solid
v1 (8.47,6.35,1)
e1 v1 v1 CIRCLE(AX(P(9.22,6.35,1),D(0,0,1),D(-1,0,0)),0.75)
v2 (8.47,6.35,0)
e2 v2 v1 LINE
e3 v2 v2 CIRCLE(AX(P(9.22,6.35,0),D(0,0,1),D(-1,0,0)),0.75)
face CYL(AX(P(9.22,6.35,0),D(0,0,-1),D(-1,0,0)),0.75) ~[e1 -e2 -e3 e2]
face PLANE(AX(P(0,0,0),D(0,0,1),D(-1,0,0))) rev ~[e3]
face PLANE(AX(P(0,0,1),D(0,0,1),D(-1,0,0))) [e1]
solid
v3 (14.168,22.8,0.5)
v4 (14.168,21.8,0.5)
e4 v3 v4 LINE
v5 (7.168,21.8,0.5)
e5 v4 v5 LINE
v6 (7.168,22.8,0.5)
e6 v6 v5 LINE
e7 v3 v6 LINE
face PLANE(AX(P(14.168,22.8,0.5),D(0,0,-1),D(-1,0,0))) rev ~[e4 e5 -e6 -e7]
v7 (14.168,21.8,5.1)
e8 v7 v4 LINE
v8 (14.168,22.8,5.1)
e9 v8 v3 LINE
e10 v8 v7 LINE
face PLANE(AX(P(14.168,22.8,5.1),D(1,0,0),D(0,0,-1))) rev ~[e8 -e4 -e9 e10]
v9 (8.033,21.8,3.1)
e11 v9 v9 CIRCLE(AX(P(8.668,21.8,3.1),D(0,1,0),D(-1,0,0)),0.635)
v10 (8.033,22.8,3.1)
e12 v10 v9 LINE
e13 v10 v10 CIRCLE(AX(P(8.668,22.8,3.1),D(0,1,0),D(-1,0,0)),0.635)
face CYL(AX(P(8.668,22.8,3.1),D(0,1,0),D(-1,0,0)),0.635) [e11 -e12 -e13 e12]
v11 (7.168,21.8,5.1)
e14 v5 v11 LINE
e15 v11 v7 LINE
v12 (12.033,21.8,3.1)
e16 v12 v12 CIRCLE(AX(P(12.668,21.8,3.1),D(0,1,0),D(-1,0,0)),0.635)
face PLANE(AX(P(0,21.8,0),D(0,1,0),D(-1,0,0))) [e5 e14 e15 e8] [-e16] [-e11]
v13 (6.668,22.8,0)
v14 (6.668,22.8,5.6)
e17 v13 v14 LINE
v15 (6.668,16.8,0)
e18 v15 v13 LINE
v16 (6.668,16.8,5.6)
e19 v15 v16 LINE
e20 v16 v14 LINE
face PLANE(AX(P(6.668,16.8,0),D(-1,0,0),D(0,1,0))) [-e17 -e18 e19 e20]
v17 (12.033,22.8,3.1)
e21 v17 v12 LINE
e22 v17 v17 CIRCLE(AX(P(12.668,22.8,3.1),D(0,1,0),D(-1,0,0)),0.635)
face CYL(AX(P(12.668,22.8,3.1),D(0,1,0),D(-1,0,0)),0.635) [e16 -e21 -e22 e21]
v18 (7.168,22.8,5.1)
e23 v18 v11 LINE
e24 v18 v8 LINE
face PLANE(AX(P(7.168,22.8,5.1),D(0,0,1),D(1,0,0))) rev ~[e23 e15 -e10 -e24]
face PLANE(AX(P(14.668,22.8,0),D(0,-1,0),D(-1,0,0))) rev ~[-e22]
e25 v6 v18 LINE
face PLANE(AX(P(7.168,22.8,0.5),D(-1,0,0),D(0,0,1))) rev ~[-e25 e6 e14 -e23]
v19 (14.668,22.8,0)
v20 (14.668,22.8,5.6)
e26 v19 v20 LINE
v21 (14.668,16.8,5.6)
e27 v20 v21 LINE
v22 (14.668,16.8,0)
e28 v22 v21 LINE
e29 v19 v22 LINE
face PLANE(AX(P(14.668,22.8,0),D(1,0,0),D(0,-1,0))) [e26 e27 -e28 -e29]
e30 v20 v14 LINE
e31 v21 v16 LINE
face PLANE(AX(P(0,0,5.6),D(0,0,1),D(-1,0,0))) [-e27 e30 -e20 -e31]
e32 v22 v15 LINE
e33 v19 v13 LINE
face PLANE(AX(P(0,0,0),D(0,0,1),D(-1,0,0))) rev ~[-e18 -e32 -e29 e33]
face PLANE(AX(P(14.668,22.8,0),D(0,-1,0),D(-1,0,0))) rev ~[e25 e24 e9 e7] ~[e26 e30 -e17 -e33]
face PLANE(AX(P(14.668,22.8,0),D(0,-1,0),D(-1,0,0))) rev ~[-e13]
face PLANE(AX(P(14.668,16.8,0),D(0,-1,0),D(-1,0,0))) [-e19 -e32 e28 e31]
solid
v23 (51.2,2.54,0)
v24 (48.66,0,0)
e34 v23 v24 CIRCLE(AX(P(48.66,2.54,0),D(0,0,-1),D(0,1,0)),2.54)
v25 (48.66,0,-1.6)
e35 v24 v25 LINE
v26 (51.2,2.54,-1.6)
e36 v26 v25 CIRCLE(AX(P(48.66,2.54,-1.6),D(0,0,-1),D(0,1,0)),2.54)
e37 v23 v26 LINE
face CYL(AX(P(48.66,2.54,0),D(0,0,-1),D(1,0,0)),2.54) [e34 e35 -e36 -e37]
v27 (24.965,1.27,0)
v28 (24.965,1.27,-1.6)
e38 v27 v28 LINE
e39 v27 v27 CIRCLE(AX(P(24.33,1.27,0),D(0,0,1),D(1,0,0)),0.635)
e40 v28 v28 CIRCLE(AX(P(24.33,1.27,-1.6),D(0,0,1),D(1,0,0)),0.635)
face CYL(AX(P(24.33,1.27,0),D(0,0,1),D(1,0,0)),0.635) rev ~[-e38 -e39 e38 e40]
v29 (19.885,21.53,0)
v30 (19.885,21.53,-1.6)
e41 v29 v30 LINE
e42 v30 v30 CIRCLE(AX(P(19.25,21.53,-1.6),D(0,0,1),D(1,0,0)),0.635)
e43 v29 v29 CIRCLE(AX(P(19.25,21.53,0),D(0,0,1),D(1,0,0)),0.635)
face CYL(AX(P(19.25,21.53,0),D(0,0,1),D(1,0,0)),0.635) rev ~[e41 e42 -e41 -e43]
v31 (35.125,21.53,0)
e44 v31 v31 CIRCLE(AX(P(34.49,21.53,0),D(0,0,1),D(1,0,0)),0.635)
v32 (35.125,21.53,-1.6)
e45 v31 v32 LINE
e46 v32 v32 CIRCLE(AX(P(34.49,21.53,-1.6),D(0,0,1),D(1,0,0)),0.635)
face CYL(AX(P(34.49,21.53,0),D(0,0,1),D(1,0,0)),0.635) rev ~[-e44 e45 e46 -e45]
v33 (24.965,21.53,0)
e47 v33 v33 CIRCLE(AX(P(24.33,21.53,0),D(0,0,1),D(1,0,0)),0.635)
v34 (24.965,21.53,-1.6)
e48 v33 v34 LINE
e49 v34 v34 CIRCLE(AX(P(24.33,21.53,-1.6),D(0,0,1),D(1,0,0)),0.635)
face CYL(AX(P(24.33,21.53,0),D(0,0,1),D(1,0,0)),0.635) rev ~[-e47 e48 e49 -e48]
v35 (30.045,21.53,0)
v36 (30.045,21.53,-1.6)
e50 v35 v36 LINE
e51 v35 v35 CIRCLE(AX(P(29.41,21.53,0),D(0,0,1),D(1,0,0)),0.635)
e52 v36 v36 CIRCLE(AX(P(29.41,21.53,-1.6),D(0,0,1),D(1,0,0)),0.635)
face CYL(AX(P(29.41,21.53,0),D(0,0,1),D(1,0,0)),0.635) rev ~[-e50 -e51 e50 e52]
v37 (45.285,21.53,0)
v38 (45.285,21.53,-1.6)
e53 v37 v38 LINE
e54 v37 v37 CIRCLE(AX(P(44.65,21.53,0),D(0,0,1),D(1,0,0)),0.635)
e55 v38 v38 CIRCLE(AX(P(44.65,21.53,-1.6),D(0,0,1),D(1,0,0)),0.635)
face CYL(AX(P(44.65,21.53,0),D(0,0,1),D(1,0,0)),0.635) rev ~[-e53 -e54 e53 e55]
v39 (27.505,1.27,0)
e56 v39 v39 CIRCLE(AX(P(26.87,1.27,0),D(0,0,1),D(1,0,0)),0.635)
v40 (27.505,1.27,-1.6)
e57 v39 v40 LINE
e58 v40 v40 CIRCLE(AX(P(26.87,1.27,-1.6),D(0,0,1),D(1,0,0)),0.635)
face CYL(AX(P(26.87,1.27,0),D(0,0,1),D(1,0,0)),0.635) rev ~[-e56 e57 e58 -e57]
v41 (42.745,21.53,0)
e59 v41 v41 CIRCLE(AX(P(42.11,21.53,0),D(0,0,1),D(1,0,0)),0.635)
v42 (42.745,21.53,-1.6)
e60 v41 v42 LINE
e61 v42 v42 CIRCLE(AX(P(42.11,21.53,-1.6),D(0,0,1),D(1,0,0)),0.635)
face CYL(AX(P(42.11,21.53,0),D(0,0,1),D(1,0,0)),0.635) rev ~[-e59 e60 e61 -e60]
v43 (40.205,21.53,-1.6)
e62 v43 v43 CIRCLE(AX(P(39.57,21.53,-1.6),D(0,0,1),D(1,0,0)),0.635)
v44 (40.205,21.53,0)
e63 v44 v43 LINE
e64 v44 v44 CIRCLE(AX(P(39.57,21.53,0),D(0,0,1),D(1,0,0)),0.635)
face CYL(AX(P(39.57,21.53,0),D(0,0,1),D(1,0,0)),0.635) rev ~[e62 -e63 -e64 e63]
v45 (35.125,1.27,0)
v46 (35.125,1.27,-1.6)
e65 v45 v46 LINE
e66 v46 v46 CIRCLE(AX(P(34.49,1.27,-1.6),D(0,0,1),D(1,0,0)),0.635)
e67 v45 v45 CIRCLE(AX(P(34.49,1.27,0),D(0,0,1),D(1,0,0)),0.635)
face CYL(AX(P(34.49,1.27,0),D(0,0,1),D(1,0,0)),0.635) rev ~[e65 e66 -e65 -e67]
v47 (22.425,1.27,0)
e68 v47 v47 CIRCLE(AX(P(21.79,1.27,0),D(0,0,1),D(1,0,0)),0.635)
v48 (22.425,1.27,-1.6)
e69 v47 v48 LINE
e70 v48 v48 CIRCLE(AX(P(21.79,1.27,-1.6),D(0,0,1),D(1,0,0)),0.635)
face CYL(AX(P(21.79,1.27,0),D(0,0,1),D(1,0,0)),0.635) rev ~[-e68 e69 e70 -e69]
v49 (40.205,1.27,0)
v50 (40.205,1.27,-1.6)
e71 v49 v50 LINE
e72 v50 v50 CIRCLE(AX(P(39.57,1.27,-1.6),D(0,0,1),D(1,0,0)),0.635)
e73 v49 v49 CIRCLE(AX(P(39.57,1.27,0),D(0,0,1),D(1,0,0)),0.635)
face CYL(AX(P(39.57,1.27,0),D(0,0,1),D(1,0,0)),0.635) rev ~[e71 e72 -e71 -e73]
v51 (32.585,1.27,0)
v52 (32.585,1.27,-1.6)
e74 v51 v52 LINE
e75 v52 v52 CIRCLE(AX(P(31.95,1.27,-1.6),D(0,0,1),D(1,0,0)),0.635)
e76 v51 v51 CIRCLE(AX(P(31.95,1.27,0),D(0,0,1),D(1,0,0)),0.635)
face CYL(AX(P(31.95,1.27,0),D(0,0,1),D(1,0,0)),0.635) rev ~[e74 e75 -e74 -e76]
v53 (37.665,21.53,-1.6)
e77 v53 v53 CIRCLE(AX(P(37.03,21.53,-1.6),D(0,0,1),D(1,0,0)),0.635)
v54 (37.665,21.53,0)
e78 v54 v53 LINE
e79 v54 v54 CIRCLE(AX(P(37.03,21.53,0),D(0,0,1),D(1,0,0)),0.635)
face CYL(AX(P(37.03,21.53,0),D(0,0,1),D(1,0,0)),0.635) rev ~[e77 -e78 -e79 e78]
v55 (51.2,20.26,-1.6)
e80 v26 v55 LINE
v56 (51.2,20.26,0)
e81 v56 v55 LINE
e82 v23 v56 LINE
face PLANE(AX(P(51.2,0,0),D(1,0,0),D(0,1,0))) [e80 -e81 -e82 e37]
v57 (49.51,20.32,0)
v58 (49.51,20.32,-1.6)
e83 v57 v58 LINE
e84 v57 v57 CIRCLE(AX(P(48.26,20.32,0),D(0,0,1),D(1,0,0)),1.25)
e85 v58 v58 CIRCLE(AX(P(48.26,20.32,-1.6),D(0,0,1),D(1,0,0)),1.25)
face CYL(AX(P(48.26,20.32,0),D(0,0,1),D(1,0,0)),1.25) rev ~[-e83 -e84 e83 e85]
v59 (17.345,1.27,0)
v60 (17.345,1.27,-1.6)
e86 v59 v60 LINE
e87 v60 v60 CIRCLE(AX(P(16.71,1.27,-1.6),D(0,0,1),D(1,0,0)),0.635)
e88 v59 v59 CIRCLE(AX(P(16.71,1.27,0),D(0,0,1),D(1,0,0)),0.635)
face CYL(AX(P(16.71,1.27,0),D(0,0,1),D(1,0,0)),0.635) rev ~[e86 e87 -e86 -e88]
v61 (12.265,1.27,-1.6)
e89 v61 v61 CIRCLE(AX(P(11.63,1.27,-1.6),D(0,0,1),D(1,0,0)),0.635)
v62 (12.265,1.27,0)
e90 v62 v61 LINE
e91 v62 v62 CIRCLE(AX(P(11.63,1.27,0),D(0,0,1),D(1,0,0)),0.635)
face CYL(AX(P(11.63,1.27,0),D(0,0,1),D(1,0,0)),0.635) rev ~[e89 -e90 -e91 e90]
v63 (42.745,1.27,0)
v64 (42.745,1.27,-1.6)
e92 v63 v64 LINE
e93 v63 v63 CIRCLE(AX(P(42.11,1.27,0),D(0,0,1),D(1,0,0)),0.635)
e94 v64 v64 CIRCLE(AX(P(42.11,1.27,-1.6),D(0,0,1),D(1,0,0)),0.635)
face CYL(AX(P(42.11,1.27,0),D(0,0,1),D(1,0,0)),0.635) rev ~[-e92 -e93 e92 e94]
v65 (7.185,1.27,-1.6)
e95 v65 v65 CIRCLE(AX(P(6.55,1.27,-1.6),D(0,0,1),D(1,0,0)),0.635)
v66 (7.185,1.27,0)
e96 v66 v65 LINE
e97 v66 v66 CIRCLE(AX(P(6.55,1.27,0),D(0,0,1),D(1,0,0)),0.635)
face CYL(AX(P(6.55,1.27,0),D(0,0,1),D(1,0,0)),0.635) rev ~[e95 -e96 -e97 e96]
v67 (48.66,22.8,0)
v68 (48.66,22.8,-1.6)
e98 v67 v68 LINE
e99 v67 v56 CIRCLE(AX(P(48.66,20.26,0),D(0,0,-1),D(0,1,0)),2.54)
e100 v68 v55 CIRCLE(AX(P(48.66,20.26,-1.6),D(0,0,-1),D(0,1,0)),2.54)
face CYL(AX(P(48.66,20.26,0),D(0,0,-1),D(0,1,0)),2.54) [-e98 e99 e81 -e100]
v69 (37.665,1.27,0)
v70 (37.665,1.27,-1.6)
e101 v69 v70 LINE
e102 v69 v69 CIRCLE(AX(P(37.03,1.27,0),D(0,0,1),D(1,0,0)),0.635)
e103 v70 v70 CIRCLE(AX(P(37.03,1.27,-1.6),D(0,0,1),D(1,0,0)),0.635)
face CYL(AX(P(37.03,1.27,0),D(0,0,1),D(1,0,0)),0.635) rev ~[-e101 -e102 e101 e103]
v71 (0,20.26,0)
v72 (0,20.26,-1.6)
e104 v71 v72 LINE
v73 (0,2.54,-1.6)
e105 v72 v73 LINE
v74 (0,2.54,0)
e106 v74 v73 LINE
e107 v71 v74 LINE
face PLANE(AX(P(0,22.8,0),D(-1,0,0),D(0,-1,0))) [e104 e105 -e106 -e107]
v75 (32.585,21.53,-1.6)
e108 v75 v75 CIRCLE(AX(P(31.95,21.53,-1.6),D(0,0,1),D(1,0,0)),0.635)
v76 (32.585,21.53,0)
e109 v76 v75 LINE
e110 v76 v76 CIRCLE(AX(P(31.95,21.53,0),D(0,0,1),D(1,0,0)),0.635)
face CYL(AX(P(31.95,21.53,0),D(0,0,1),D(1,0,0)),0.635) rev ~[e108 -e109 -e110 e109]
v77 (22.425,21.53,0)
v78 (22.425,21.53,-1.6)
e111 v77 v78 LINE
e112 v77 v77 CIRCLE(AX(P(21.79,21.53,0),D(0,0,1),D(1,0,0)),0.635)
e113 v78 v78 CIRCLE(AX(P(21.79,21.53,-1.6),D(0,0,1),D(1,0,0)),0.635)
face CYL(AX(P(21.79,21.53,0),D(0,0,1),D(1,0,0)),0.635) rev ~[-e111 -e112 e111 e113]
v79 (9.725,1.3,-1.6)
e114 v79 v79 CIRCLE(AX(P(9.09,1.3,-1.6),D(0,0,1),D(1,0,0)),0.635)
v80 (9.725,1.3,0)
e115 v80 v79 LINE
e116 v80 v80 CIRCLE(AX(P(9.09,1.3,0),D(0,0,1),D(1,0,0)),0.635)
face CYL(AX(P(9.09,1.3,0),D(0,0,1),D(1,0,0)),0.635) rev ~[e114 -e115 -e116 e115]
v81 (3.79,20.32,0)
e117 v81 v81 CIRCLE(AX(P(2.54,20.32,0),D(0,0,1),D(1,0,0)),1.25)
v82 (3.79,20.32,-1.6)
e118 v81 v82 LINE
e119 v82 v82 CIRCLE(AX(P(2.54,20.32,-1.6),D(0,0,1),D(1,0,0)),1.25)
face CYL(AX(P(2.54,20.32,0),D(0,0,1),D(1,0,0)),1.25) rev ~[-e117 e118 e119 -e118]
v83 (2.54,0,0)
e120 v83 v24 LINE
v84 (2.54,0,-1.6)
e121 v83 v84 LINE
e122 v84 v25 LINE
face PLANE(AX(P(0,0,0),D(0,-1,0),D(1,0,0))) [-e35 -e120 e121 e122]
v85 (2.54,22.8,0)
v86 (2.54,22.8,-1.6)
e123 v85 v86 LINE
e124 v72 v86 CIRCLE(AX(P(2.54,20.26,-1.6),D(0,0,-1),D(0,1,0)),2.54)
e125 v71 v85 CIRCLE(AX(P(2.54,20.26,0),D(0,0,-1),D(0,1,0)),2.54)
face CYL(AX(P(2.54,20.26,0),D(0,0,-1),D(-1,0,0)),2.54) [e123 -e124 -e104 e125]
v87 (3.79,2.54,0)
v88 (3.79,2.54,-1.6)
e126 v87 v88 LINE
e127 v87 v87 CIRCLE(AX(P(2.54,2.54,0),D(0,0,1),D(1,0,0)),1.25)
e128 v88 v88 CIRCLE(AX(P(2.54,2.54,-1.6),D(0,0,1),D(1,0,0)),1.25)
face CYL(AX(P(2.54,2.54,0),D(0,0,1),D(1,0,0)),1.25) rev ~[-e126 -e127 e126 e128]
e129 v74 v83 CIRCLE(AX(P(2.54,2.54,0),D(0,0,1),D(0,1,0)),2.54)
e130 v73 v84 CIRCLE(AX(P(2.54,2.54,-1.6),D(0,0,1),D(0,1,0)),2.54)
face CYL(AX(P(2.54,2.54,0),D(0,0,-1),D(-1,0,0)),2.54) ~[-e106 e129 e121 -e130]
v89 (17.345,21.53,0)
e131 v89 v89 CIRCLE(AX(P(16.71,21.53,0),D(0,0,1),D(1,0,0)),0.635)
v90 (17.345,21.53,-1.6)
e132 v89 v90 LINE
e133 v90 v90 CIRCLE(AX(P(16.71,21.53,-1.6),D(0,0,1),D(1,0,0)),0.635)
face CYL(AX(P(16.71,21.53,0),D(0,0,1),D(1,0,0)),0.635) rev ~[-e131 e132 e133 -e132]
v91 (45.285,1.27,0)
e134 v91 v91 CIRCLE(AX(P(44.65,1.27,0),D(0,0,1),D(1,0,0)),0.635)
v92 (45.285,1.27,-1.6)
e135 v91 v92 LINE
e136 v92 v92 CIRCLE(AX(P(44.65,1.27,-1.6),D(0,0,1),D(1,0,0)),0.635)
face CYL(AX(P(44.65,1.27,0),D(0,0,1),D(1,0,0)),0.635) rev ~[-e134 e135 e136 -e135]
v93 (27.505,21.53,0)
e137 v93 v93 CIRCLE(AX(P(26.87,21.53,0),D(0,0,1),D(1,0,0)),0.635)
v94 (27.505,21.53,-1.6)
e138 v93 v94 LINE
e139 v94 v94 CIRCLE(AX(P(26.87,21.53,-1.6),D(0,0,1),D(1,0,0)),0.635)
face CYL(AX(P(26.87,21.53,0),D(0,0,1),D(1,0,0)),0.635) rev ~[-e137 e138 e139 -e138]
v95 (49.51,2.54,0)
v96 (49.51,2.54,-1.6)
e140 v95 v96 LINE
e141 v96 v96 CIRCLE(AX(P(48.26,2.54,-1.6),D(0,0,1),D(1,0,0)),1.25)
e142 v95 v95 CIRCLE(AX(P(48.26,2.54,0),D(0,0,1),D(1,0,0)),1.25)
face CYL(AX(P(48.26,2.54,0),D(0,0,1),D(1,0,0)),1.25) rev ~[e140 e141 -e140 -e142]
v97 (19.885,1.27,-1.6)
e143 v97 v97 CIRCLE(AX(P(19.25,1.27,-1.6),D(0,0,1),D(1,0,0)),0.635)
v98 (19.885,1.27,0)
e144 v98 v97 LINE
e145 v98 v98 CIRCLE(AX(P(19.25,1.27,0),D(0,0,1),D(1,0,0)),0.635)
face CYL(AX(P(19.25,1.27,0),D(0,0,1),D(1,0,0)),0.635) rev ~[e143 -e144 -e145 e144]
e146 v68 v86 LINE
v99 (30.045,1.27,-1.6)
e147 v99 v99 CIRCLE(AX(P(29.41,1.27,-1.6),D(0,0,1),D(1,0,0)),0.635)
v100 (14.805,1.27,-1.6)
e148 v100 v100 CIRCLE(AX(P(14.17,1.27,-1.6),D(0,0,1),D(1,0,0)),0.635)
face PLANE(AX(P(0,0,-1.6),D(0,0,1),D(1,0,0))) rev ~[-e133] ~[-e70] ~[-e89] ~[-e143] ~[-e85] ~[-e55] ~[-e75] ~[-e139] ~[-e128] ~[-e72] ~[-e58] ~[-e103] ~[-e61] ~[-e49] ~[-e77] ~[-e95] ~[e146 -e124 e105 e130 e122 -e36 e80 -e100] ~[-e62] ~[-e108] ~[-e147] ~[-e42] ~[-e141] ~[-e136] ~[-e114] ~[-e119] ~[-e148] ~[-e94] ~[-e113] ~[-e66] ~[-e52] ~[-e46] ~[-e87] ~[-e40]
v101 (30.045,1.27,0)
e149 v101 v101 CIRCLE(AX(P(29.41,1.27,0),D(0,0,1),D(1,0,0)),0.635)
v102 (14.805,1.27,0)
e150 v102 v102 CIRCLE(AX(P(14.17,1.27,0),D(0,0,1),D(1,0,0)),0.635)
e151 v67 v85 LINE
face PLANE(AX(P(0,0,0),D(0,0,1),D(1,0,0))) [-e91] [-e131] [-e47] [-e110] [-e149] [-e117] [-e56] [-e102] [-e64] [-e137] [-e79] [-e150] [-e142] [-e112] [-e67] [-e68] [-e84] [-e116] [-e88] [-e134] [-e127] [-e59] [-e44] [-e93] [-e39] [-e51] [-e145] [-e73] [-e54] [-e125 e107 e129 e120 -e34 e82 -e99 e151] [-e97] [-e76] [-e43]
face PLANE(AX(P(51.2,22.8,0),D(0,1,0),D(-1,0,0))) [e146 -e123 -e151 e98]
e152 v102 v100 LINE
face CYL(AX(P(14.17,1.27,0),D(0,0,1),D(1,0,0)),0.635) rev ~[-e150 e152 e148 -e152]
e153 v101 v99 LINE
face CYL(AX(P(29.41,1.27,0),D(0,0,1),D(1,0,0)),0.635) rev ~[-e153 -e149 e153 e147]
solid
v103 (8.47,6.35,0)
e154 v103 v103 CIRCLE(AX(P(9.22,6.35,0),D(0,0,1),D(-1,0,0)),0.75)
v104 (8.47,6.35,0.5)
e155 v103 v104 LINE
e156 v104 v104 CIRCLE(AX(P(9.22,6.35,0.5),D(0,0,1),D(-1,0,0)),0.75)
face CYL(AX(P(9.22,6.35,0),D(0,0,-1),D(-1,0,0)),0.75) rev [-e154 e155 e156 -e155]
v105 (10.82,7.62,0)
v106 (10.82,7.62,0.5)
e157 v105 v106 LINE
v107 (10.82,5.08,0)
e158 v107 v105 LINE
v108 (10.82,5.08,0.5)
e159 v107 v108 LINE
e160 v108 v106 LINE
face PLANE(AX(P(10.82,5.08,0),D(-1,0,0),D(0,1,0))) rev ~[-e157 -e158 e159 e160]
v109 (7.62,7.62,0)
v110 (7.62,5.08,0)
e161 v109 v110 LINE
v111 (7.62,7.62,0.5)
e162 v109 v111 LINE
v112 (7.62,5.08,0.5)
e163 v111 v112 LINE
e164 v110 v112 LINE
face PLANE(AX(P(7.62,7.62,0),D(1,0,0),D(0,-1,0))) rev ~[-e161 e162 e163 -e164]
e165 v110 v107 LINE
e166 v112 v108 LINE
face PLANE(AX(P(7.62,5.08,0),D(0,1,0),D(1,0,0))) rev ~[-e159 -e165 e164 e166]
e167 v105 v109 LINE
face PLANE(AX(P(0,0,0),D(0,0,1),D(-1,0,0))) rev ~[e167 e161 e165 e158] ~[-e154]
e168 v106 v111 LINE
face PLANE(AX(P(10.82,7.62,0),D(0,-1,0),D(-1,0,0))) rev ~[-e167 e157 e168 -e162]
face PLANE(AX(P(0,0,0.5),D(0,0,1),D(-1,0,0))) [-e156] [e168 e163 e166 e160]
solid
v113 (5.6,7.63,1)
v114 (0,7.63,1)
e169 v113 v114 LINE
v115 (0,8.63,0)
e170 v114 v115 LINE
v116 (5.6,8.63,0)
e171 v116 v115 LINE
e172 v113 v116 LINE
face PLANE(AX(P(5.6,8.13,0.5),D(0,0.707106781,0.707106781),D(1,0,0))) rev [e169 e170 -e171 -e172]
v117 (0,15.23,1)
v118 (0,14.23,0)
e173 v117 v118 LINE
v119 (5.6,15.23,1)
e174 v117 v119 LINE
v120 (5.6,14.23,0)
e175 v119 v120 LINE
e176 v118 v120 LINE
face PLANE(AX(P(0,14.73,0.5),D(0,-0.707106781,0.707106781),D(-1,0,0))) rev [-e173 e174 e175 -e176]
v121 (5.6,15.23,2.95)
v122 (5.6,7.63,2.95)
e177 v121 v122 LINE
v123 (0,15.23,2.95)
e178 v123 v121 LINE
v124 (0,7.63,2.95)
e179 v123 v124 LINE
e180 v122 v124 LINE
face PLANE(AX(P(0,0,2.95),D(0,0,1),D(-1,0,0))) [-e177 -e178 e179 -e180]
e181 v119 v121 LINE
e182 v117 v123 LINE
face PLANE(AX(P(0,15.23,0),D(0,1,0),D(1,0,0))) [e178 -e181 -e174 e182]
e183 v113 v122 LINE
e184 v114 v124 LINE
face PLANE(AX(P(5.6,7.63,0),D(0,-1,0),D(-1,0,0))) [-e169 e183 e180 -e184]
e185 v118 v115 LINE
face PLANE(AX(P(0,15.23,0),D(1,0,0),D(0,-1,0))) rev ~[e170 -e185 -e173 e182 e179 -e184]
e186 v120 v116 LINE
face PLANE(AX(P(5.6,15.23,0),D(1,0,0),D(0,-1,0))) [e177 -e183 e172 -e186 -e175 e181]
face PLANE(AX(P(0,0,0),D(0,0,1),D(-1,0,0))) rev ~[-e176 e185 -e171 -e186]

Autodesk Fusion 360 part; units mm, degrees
sketch "pcb" plane through (0, 0, 0) normal (0, 0, 1) x (1, 0, 0)
  line L0 (0, 0) -> (51.2, 0)
  line L1 (51.2, 0) -> (51.2, 22.8)
  line L2 (51.2, 22.8) -> (0, 22.8)
  line L3 (0, 22.8) -> (0, 0)
  circle A0 centre (2.54, 2.54) radius 1.25
  circle A1 centre (2.54, 20.32) radius 1.25
  circle A2 centre (48.26, 20.32) radius 1.25
  circle A3 centre (48.26, 2.54) radius 1.25
  line L4 (0, 11.4) -> (51.2, 11.4) construction
  line L5 (25.6, 22.8) -> (25.6, 0) construction
  line L6 (0, 1.27) -> (51.2, 1.27) construction
  circle A4 centre (24.33, 1.27) radius 0.635
  circle A5 centre (21.79, 1.27) radius 0.635
  circle A6 centre (19.25, 1.27) radius 0.635
  circle A7 centre (16.71, 1.27) radius 0.635
  circle A8 centre (14.17, 1.27) radius 0.635
  circle A9 centre (11.63, 1.27) radius 0.635
  circle A10 centre (9.09, 1.3) radius 0.635
  circle A11 centre (6.55, 1.27) radius 0.635
  circle A12 centre (26.87, 1.27) radius 0.635
  circle A13 centre (29.41, 1.27) radius 0.635
  circle A14 centre (31.95, 1.27) radius 0.635
  circle A15 centre (34.49, 1.27) radius 0.635
  circle A16 centre (39.57, 1.27) radius 0.635
  circle A17 centre (37.03, 1.27) radius 0.635
  circle A18 centre (42.11, 1.27) radius 0.635
  circle A19 centre (44.65, 1.27) radius 0.635
  circle A20 centre (44.65, 21.53) radius 0.635
  circle A21 centre (39.57, 21.53) radius 0.635
  circle A22 centre (34.49, 21.53) radius 0.635
  circle A23 centre (31.95, 21.53) radius 0.635
  circle A24 centre (29.41, 21.53) radius 0.635
  circle A25 centre (26.87, 21.53) radius 0.635
  circle A26 centre (42.11, 21.53) radius 0.635
  circle A27 centre (37.03, 21.53) radius 0.635
  circle A28 centre (24.33, 21.53) radius 0.635
  circle A29 centre (21.79, 21.53) radius 0.635
  circle A30 centre (19.25, 21.53) radius 0.635
  circle A31 centre (16.71, 21.53) radius 0.635
  dimension "d1" = 51.2
  dimension "d2" = 22.8
  dimension "d3" = 2.5
  dimension "d4" = 2.54
  dimension "d5" = 2.54
  dimension "d6" = 2.5
  dimension "d7" = 2.54
  dimension "d8" = 20.32
  dimension "d9" = 2.5
  dimension "d10" = 48.26
  dimension "d11" = 20.32
  dimension "d12" = 2.5
  dimension "d13" = 2.54
  dimension "d14" = 48.26
  dimension "d40" = 1.27
  dimension "d41" = 1.27
  dimension "d42" = 1.27
  dimension "d43" = 1.27
  dimension "d44" = 1.27
  dimension "d45" = 1.27
  dimension "d46" = 1.27
  dimension "d47" = 2.54
  dimension "d48" = 2.54
  dimension "d49" = 2.54
  dimension "d50" = 2.54
  dimension "d51" = 1.27
  dimension "d52" = 1.27
  dimension "d53" = 1.27
  dimension "d55" = 2.54
  dimension "d56" = 2.54
  dimension "d57" = 2.54
  dimension "d58" = 1.27
  dimension "d59" = 1.27
  dimension "d60" = 1.27
  dimension "d61" = 1.27
  dimension "d62" = 2.54
  dimension "d63" = 2.54
  dimension "d64" = 2.54
  dimension "d65" = 1.27
  dimension "d68" = 1.27
  dimension "d74" = 1.27
  dimension "d75" = 2.54
  dimension "d76" = 2.54
  dimension "d77" = 1.27
  dimension "d78" = 1.27
  dimension "d79" = 2.54
  dimension "d80" = 2.54
extrude "Extrude1" add sketch "pcb" against normal blind 1.6 makes body 1
fillet "Fillet1" radius 2.54 4 edges at (0, 0, -0.8) (0, 22.8, -0.8) (51.2, 0, -0.8) (51.2, 22.8, -0.8) on bodies 1
sketch "microusb" plane through (0, 0, 0) normal (0, 0, 1) x (-1, 0, 0)
  arc A0 (-51.2, -20.26) -> (-48.66, -22.8) centre (-48.66, -20.26) ccw
  line L0 (-48.66, -22.8) -> (-2.54, -22.8)
  arc A1 (-2.54, -22.8) -> (0, -20.26) centre (-2.54, -20.26) ccw
  line L1 (0, -20.26) -> (0, -2.54)
  arc A2 (0, -2.54) -> (-2.54, 0) centre (-2.54, -2.54) ccw
  line L2 (-2.54, 0) -> (-48.66, 0)
  arc A3 (-48.66, 0) -> (-51.2, -2.54) centre (-48.66, -2.54) ccw
  line L3 (-51.2, -2.54) -> (-51.2, -20.26)
  circle A4 centre (-2.54, -2.54) radius 1.25
  circle A5 centre (-48.26, -20.32) radius 1.25
  circle A6 centre (-48.26, -2.54) radius 1.25
  circle A7 centre (-2.54, -20.32) radius 1.25
  line L4 (0, -15.23) -> (-5.6, -15.23)
  line L5 (-5.6, -15.23) -> (-5.6, -7.63)
  line L6 (-5.6, -7.63) -> (0, -7.63)
  line L7 (0, -7.63) -> (0, -15.23)
  line L8 (-5.6, -11.43) -> (0, -11.43) construction
  circle A8 centre (-11.63, -1.27) radius 0.635
  circle A9 centre (-9.09, -1.3) radius 0.635
  circle A10 centre (-6.55, -1.27) radius 0.635
  circle A11 centre (-14.17, -1.27) radius 0.635
  circle A12 centre (-24.33, -1.27) radius 0.635
  circle A13 centre (-21.79, -1.27) radius 0.635
  circle A14 centre (-19.25, -1.27) radius 0.635
  circle A15 centre (-16.71, -1.27) radius 0.635
  circle A16 centre (-16.71, -21.53) radius 0.635
  circle A17 centre (-31.95, -21.53) radius 0.635
  circle A18 centre (-19.25, -21.53) radius 0.635
  circle A19 centre (-21.79, -21.53) radius 0.635
  circle A20 centre (-42.11, -21.53) radius 0.635
  circle A21 centre (-29.41, -21.53) radius 0.635
  circle A22 centre (-26.87, -21.53) radius 0.635
  circle A23 centre (-37.03, -21.53) radius 0.635
  circle A24 centre (-24.33, -21.53) radius 0.635
  circle A25 centre (-31.95, -1.27) radius 0.635
  circle A26 centre (-34.49, -1.27) radius 0.635
  circle A27 centre (-39.57, -1.27) radius 0.635
  circle A28 centre (-37.03, -1.27) radius 0.635
  circle A29 centre (-42.11, -1.27) radius 0.635
  circle A30 centre (-44.65, -1.27) radius 0.635
  circle A31 centre (-44.65, -21.53) radius 0.635
  circle A32 centre (-39.57, -21.53) radius 0.635
  circle A33 centre (-34.49, -21.53) radius 0.635
  circle A34 centre (-29.41, -1.27) radius 0.635
  circle A35 centre (-26.87, -1.27) radius 0.635
  dimension "d18" = 7.6
  dimension "d19" = 5.6
  dimension "d20" = 11.43
extrude "Extrude2" add sketch "microusb" along normal blind 2.95 separate body contours L1 L4 L5 L6 L7 makes body 2
chamfer "Chamfer1" distance 1 angle 45 2 edges at (2.8, 15.23, 0) (2.8, 7.63, 0) on bodies 2
sketch "jst" plane through (0, 0, 0) normal (0, 0, 1) x (-1, 0, 0)
  arc A0 (-51.2, -20.26) -> (-48.66, -22.8) centre (-48.66, -20.26) ccw
  line L0 (-48.66, -22.8) -> (-2.54, -22.8)
  arc A1 (-2.54, -22.8) -> (0, -20.26) centre (-2.54, -20.26) ccw
  line L1 (0, -20.26) -> (0, -2.54)
  arc A2 (0, -2.54) -> (-2.54, 0) centre (-2.54, -2.54) ccw
  line L2 (-2.54, 0) -> (-48.66, 0)
  arc A3 (-48.66, 0) -> (-51.2, -2.54) centre (-48.66, -2.54) ccw
  line L3 (-51.2, -2.54) -> (-51.2, -20.26)
  circle A4 centre (-2.54, -2.54) radius 1.25
  circle A5 centre (-48.26, -20.32) radius 1.25
  circle A6 centre (-48.26, -2.54) radius 1.25
  circle A7 centre (-2.54, -20.32) radius 1.25
  line L4 (-6.668, -22.8) -> (-14.668, -22.8)
  line L5 (-14.668, -22.8) -> (-14.668, -16.8)
  line L6 (-14.668, -16.8) -> (-6.668, -16.8)
  line L7 (-6.668, -16.8) -> (-6.668, -22.8)
  line L8 (-10.668, -22.8) -> (-10.668, -16.8) construction
  circle A8 centre (-11.63, -1.27) radius 0.635
  circle A9 centre (-9.09, -1.3) radius 0.635
  circle A10 centre (-6.55, -1.27) radius 0.635
  circle A11 centre (-14.17, -1.27) radius 0.635
  circle A12 centre (-24.33, -1.27) radius 0.635
  circle A13 centre (-21.79, -1.27) radius 0.635
  circle A14 centre (-19.25, -1.27) radius 0.635
  circle A15 centre (-16.71, -1.27) radius 0.635
  circle A16 centre (-16.71, -21.53) radius 0.635
  circle A17 centre (-31.95, -21.53) radius 0.635
  circle A18 centre (-19.25, -21.53) radius 0.635
  circle A19 centre (-21.79, -21.53) radius 0.635
  circle A20 centre (-42.11, -21.53) radius 0.635
  circle A21 centre (-29.41, -21.53) radius 0.635
  circle A22 centre (-26.87, -21.53) radius 0.635
  circle A23 centre (-37.03, -21.53) radius 0.635
  circle A24 centre (-24.33, -21.53) radius 0.635
  circle A25 centre (-31.95, -1.27) radius 0.635
  circle A26 centre (-34.49, -1.27) radius 0.635
  circle A27 centre (-39.57, -1.27) radius 0.635
  circle A28 centre (-37.03, -1.27) radius 0.635
  circle A29 centre (-42.11, -1.27) radius 0.635
  circle A30 centre (-44.65, -1.27) radius 0.635
  circle A31 centre (-44.65, -21.53) radius 0.635
  circle A32 centre (-39.57, -21.53) radius 0.635
  circle A33 centre (-34.49, -21.53) radius 0.635
  circle A34 centre (-29.41, -1.27) radius 0.635
  circle A35 centre (-26.87, -1.27) radius 0.635
  dimension "d24" = 8
  dimension "d25" = 6
  dimension "d26" = 10.668
extrude "Extrude3" add sketch "jst" along normal blind 5.6 separate body contours L0 L4 L5 L6 L7 makes body 3
sketch "Reset" plane through (0, 0, 0) normal (0, 0, 1) x (-1, 0, 0)
  line L0 (-7.62, -5.08) -> (-10.82, -5.08)
  line L1 (-10.82, -5.08) -> (-10.82, -7.62)
  line L2 (-10.82, -7.62) -> (-7.62, -7.62)
  line L3 (-7.62, -7.62) -> (-7.62, -5.08)
  line L4 (-7.62, -5.08) -> (-10.82, -7.62) construction
  line L5 (-10.82, -5.08) -> (-7.62, -7.62) construction
  circle A0 centre (-9.22, -6.35) radius 0.75
  line L6 (0, -20.26) -> (0, -2.54)
  line L7 (-2.54, 0) -> (-48.66, 0)
  point P0 (-9.22, -6.35)
  dimension "d95" = 3.2
  dimension "d96" = 2.54
  dimension "d97" = 1.5
  dimension "d98" = 7.62
  dimension "d99" = 5.08
extrude "Extrude6" add sketch "Reset" along normal blind 0.5 separate body makes body 4
extrude "Extrude7" add sketch "Reset" along normal blind 1 separate body contours A0 makes body 5
sketch "jst pins" plane through (0, 22.8, 0) normal (0, 1, 0) x (-1, 0, 0)
  line L0 (-14.668, 0) -> (-6.668, 0)
  line L1 (-6.668, 0) -> (-6.668, 5.6)
  line L2 (-6.668, 5.6) -> (-14.668, 5.6)
  line L3 (-14.668, 5.6) -> (-14.668, 0)
  line L4 (-14.168, 5.1) -> (-14.168, 0.5)
  line L5 (-14.168, 0.5) -> (-7.168, 0.5)
  line L6 (-7.168, 0.5) -> (-7.168, 5.1)
  line L7 (-7.168, 5.1) -> (-14.168, 5.1)
  line L8 (-10.668, 5.1) -> (-10.668, 0.5) construction
  circle A0 centre (-12.668, 3.1) radius 0.635
  circle A1 centre (-8.668, 3.1) radius 0.635
  dimension "d108" = 0.5
  dimension "d109" = 1.27
  dimension "d110" = 2
  dimension "d111" = 2
extrude "Extrude8" cut sketch "jst pins" against normal blind 1 contours L4 L5 L6 L7 bodies 3
equation "HoleDia = 1.27 mm"
equation "HoleSpace = 0.1 in"
equation "Hole2Edge = 0.05 in"
equation "d40 = Hole2Edge"
equation "d41 = HoleDia"
equation "d42 = HoleSpace / 2"
equation "d43 = HoleDia"
equation "d44 = HoleDia"
equation "d45 = HoleDia"
equation "d46 = HoleDia"
equation "d47 = HoleSpace"
equation "d48 = HoleSpace"
equation "d49 = HoleSpace"
equation "d50 = HoleSpace"
equation "d51 = HoleDia"
equation "d52 = HoleDia"
equation "d53 = HoleDia"
equation "d55 = HoleSpace"
equation "d56 = HoleSpace"
equation "d57 = HoleSpace"
equation "d58 = HoleDia"
equation "d59 = HoleDia"
equation "d60 = HoleDia"
equation "d61 = HoleDia"
equation "d62 = HoleSpace"
equation "d63 = HoleSpace"
equation "d64 = HoleSpace"
equation "d65 = HoleSpace / 2"
equation "d68 = HoleDia"
equation "d74 = HoleDia"
equation "d75 = HoleSpace"
equation "d76 = HoleSpace"
equation "d77 = HoleDia"
equation "d78 = HoleDia"
equation "d79 = HoleSpace"
equation "d80 = HoleSpace"
equation "PinLength = 10.6 mm"
equation "HoleDepth = 4.6 mm"
equation "d109 = HoleDia"
